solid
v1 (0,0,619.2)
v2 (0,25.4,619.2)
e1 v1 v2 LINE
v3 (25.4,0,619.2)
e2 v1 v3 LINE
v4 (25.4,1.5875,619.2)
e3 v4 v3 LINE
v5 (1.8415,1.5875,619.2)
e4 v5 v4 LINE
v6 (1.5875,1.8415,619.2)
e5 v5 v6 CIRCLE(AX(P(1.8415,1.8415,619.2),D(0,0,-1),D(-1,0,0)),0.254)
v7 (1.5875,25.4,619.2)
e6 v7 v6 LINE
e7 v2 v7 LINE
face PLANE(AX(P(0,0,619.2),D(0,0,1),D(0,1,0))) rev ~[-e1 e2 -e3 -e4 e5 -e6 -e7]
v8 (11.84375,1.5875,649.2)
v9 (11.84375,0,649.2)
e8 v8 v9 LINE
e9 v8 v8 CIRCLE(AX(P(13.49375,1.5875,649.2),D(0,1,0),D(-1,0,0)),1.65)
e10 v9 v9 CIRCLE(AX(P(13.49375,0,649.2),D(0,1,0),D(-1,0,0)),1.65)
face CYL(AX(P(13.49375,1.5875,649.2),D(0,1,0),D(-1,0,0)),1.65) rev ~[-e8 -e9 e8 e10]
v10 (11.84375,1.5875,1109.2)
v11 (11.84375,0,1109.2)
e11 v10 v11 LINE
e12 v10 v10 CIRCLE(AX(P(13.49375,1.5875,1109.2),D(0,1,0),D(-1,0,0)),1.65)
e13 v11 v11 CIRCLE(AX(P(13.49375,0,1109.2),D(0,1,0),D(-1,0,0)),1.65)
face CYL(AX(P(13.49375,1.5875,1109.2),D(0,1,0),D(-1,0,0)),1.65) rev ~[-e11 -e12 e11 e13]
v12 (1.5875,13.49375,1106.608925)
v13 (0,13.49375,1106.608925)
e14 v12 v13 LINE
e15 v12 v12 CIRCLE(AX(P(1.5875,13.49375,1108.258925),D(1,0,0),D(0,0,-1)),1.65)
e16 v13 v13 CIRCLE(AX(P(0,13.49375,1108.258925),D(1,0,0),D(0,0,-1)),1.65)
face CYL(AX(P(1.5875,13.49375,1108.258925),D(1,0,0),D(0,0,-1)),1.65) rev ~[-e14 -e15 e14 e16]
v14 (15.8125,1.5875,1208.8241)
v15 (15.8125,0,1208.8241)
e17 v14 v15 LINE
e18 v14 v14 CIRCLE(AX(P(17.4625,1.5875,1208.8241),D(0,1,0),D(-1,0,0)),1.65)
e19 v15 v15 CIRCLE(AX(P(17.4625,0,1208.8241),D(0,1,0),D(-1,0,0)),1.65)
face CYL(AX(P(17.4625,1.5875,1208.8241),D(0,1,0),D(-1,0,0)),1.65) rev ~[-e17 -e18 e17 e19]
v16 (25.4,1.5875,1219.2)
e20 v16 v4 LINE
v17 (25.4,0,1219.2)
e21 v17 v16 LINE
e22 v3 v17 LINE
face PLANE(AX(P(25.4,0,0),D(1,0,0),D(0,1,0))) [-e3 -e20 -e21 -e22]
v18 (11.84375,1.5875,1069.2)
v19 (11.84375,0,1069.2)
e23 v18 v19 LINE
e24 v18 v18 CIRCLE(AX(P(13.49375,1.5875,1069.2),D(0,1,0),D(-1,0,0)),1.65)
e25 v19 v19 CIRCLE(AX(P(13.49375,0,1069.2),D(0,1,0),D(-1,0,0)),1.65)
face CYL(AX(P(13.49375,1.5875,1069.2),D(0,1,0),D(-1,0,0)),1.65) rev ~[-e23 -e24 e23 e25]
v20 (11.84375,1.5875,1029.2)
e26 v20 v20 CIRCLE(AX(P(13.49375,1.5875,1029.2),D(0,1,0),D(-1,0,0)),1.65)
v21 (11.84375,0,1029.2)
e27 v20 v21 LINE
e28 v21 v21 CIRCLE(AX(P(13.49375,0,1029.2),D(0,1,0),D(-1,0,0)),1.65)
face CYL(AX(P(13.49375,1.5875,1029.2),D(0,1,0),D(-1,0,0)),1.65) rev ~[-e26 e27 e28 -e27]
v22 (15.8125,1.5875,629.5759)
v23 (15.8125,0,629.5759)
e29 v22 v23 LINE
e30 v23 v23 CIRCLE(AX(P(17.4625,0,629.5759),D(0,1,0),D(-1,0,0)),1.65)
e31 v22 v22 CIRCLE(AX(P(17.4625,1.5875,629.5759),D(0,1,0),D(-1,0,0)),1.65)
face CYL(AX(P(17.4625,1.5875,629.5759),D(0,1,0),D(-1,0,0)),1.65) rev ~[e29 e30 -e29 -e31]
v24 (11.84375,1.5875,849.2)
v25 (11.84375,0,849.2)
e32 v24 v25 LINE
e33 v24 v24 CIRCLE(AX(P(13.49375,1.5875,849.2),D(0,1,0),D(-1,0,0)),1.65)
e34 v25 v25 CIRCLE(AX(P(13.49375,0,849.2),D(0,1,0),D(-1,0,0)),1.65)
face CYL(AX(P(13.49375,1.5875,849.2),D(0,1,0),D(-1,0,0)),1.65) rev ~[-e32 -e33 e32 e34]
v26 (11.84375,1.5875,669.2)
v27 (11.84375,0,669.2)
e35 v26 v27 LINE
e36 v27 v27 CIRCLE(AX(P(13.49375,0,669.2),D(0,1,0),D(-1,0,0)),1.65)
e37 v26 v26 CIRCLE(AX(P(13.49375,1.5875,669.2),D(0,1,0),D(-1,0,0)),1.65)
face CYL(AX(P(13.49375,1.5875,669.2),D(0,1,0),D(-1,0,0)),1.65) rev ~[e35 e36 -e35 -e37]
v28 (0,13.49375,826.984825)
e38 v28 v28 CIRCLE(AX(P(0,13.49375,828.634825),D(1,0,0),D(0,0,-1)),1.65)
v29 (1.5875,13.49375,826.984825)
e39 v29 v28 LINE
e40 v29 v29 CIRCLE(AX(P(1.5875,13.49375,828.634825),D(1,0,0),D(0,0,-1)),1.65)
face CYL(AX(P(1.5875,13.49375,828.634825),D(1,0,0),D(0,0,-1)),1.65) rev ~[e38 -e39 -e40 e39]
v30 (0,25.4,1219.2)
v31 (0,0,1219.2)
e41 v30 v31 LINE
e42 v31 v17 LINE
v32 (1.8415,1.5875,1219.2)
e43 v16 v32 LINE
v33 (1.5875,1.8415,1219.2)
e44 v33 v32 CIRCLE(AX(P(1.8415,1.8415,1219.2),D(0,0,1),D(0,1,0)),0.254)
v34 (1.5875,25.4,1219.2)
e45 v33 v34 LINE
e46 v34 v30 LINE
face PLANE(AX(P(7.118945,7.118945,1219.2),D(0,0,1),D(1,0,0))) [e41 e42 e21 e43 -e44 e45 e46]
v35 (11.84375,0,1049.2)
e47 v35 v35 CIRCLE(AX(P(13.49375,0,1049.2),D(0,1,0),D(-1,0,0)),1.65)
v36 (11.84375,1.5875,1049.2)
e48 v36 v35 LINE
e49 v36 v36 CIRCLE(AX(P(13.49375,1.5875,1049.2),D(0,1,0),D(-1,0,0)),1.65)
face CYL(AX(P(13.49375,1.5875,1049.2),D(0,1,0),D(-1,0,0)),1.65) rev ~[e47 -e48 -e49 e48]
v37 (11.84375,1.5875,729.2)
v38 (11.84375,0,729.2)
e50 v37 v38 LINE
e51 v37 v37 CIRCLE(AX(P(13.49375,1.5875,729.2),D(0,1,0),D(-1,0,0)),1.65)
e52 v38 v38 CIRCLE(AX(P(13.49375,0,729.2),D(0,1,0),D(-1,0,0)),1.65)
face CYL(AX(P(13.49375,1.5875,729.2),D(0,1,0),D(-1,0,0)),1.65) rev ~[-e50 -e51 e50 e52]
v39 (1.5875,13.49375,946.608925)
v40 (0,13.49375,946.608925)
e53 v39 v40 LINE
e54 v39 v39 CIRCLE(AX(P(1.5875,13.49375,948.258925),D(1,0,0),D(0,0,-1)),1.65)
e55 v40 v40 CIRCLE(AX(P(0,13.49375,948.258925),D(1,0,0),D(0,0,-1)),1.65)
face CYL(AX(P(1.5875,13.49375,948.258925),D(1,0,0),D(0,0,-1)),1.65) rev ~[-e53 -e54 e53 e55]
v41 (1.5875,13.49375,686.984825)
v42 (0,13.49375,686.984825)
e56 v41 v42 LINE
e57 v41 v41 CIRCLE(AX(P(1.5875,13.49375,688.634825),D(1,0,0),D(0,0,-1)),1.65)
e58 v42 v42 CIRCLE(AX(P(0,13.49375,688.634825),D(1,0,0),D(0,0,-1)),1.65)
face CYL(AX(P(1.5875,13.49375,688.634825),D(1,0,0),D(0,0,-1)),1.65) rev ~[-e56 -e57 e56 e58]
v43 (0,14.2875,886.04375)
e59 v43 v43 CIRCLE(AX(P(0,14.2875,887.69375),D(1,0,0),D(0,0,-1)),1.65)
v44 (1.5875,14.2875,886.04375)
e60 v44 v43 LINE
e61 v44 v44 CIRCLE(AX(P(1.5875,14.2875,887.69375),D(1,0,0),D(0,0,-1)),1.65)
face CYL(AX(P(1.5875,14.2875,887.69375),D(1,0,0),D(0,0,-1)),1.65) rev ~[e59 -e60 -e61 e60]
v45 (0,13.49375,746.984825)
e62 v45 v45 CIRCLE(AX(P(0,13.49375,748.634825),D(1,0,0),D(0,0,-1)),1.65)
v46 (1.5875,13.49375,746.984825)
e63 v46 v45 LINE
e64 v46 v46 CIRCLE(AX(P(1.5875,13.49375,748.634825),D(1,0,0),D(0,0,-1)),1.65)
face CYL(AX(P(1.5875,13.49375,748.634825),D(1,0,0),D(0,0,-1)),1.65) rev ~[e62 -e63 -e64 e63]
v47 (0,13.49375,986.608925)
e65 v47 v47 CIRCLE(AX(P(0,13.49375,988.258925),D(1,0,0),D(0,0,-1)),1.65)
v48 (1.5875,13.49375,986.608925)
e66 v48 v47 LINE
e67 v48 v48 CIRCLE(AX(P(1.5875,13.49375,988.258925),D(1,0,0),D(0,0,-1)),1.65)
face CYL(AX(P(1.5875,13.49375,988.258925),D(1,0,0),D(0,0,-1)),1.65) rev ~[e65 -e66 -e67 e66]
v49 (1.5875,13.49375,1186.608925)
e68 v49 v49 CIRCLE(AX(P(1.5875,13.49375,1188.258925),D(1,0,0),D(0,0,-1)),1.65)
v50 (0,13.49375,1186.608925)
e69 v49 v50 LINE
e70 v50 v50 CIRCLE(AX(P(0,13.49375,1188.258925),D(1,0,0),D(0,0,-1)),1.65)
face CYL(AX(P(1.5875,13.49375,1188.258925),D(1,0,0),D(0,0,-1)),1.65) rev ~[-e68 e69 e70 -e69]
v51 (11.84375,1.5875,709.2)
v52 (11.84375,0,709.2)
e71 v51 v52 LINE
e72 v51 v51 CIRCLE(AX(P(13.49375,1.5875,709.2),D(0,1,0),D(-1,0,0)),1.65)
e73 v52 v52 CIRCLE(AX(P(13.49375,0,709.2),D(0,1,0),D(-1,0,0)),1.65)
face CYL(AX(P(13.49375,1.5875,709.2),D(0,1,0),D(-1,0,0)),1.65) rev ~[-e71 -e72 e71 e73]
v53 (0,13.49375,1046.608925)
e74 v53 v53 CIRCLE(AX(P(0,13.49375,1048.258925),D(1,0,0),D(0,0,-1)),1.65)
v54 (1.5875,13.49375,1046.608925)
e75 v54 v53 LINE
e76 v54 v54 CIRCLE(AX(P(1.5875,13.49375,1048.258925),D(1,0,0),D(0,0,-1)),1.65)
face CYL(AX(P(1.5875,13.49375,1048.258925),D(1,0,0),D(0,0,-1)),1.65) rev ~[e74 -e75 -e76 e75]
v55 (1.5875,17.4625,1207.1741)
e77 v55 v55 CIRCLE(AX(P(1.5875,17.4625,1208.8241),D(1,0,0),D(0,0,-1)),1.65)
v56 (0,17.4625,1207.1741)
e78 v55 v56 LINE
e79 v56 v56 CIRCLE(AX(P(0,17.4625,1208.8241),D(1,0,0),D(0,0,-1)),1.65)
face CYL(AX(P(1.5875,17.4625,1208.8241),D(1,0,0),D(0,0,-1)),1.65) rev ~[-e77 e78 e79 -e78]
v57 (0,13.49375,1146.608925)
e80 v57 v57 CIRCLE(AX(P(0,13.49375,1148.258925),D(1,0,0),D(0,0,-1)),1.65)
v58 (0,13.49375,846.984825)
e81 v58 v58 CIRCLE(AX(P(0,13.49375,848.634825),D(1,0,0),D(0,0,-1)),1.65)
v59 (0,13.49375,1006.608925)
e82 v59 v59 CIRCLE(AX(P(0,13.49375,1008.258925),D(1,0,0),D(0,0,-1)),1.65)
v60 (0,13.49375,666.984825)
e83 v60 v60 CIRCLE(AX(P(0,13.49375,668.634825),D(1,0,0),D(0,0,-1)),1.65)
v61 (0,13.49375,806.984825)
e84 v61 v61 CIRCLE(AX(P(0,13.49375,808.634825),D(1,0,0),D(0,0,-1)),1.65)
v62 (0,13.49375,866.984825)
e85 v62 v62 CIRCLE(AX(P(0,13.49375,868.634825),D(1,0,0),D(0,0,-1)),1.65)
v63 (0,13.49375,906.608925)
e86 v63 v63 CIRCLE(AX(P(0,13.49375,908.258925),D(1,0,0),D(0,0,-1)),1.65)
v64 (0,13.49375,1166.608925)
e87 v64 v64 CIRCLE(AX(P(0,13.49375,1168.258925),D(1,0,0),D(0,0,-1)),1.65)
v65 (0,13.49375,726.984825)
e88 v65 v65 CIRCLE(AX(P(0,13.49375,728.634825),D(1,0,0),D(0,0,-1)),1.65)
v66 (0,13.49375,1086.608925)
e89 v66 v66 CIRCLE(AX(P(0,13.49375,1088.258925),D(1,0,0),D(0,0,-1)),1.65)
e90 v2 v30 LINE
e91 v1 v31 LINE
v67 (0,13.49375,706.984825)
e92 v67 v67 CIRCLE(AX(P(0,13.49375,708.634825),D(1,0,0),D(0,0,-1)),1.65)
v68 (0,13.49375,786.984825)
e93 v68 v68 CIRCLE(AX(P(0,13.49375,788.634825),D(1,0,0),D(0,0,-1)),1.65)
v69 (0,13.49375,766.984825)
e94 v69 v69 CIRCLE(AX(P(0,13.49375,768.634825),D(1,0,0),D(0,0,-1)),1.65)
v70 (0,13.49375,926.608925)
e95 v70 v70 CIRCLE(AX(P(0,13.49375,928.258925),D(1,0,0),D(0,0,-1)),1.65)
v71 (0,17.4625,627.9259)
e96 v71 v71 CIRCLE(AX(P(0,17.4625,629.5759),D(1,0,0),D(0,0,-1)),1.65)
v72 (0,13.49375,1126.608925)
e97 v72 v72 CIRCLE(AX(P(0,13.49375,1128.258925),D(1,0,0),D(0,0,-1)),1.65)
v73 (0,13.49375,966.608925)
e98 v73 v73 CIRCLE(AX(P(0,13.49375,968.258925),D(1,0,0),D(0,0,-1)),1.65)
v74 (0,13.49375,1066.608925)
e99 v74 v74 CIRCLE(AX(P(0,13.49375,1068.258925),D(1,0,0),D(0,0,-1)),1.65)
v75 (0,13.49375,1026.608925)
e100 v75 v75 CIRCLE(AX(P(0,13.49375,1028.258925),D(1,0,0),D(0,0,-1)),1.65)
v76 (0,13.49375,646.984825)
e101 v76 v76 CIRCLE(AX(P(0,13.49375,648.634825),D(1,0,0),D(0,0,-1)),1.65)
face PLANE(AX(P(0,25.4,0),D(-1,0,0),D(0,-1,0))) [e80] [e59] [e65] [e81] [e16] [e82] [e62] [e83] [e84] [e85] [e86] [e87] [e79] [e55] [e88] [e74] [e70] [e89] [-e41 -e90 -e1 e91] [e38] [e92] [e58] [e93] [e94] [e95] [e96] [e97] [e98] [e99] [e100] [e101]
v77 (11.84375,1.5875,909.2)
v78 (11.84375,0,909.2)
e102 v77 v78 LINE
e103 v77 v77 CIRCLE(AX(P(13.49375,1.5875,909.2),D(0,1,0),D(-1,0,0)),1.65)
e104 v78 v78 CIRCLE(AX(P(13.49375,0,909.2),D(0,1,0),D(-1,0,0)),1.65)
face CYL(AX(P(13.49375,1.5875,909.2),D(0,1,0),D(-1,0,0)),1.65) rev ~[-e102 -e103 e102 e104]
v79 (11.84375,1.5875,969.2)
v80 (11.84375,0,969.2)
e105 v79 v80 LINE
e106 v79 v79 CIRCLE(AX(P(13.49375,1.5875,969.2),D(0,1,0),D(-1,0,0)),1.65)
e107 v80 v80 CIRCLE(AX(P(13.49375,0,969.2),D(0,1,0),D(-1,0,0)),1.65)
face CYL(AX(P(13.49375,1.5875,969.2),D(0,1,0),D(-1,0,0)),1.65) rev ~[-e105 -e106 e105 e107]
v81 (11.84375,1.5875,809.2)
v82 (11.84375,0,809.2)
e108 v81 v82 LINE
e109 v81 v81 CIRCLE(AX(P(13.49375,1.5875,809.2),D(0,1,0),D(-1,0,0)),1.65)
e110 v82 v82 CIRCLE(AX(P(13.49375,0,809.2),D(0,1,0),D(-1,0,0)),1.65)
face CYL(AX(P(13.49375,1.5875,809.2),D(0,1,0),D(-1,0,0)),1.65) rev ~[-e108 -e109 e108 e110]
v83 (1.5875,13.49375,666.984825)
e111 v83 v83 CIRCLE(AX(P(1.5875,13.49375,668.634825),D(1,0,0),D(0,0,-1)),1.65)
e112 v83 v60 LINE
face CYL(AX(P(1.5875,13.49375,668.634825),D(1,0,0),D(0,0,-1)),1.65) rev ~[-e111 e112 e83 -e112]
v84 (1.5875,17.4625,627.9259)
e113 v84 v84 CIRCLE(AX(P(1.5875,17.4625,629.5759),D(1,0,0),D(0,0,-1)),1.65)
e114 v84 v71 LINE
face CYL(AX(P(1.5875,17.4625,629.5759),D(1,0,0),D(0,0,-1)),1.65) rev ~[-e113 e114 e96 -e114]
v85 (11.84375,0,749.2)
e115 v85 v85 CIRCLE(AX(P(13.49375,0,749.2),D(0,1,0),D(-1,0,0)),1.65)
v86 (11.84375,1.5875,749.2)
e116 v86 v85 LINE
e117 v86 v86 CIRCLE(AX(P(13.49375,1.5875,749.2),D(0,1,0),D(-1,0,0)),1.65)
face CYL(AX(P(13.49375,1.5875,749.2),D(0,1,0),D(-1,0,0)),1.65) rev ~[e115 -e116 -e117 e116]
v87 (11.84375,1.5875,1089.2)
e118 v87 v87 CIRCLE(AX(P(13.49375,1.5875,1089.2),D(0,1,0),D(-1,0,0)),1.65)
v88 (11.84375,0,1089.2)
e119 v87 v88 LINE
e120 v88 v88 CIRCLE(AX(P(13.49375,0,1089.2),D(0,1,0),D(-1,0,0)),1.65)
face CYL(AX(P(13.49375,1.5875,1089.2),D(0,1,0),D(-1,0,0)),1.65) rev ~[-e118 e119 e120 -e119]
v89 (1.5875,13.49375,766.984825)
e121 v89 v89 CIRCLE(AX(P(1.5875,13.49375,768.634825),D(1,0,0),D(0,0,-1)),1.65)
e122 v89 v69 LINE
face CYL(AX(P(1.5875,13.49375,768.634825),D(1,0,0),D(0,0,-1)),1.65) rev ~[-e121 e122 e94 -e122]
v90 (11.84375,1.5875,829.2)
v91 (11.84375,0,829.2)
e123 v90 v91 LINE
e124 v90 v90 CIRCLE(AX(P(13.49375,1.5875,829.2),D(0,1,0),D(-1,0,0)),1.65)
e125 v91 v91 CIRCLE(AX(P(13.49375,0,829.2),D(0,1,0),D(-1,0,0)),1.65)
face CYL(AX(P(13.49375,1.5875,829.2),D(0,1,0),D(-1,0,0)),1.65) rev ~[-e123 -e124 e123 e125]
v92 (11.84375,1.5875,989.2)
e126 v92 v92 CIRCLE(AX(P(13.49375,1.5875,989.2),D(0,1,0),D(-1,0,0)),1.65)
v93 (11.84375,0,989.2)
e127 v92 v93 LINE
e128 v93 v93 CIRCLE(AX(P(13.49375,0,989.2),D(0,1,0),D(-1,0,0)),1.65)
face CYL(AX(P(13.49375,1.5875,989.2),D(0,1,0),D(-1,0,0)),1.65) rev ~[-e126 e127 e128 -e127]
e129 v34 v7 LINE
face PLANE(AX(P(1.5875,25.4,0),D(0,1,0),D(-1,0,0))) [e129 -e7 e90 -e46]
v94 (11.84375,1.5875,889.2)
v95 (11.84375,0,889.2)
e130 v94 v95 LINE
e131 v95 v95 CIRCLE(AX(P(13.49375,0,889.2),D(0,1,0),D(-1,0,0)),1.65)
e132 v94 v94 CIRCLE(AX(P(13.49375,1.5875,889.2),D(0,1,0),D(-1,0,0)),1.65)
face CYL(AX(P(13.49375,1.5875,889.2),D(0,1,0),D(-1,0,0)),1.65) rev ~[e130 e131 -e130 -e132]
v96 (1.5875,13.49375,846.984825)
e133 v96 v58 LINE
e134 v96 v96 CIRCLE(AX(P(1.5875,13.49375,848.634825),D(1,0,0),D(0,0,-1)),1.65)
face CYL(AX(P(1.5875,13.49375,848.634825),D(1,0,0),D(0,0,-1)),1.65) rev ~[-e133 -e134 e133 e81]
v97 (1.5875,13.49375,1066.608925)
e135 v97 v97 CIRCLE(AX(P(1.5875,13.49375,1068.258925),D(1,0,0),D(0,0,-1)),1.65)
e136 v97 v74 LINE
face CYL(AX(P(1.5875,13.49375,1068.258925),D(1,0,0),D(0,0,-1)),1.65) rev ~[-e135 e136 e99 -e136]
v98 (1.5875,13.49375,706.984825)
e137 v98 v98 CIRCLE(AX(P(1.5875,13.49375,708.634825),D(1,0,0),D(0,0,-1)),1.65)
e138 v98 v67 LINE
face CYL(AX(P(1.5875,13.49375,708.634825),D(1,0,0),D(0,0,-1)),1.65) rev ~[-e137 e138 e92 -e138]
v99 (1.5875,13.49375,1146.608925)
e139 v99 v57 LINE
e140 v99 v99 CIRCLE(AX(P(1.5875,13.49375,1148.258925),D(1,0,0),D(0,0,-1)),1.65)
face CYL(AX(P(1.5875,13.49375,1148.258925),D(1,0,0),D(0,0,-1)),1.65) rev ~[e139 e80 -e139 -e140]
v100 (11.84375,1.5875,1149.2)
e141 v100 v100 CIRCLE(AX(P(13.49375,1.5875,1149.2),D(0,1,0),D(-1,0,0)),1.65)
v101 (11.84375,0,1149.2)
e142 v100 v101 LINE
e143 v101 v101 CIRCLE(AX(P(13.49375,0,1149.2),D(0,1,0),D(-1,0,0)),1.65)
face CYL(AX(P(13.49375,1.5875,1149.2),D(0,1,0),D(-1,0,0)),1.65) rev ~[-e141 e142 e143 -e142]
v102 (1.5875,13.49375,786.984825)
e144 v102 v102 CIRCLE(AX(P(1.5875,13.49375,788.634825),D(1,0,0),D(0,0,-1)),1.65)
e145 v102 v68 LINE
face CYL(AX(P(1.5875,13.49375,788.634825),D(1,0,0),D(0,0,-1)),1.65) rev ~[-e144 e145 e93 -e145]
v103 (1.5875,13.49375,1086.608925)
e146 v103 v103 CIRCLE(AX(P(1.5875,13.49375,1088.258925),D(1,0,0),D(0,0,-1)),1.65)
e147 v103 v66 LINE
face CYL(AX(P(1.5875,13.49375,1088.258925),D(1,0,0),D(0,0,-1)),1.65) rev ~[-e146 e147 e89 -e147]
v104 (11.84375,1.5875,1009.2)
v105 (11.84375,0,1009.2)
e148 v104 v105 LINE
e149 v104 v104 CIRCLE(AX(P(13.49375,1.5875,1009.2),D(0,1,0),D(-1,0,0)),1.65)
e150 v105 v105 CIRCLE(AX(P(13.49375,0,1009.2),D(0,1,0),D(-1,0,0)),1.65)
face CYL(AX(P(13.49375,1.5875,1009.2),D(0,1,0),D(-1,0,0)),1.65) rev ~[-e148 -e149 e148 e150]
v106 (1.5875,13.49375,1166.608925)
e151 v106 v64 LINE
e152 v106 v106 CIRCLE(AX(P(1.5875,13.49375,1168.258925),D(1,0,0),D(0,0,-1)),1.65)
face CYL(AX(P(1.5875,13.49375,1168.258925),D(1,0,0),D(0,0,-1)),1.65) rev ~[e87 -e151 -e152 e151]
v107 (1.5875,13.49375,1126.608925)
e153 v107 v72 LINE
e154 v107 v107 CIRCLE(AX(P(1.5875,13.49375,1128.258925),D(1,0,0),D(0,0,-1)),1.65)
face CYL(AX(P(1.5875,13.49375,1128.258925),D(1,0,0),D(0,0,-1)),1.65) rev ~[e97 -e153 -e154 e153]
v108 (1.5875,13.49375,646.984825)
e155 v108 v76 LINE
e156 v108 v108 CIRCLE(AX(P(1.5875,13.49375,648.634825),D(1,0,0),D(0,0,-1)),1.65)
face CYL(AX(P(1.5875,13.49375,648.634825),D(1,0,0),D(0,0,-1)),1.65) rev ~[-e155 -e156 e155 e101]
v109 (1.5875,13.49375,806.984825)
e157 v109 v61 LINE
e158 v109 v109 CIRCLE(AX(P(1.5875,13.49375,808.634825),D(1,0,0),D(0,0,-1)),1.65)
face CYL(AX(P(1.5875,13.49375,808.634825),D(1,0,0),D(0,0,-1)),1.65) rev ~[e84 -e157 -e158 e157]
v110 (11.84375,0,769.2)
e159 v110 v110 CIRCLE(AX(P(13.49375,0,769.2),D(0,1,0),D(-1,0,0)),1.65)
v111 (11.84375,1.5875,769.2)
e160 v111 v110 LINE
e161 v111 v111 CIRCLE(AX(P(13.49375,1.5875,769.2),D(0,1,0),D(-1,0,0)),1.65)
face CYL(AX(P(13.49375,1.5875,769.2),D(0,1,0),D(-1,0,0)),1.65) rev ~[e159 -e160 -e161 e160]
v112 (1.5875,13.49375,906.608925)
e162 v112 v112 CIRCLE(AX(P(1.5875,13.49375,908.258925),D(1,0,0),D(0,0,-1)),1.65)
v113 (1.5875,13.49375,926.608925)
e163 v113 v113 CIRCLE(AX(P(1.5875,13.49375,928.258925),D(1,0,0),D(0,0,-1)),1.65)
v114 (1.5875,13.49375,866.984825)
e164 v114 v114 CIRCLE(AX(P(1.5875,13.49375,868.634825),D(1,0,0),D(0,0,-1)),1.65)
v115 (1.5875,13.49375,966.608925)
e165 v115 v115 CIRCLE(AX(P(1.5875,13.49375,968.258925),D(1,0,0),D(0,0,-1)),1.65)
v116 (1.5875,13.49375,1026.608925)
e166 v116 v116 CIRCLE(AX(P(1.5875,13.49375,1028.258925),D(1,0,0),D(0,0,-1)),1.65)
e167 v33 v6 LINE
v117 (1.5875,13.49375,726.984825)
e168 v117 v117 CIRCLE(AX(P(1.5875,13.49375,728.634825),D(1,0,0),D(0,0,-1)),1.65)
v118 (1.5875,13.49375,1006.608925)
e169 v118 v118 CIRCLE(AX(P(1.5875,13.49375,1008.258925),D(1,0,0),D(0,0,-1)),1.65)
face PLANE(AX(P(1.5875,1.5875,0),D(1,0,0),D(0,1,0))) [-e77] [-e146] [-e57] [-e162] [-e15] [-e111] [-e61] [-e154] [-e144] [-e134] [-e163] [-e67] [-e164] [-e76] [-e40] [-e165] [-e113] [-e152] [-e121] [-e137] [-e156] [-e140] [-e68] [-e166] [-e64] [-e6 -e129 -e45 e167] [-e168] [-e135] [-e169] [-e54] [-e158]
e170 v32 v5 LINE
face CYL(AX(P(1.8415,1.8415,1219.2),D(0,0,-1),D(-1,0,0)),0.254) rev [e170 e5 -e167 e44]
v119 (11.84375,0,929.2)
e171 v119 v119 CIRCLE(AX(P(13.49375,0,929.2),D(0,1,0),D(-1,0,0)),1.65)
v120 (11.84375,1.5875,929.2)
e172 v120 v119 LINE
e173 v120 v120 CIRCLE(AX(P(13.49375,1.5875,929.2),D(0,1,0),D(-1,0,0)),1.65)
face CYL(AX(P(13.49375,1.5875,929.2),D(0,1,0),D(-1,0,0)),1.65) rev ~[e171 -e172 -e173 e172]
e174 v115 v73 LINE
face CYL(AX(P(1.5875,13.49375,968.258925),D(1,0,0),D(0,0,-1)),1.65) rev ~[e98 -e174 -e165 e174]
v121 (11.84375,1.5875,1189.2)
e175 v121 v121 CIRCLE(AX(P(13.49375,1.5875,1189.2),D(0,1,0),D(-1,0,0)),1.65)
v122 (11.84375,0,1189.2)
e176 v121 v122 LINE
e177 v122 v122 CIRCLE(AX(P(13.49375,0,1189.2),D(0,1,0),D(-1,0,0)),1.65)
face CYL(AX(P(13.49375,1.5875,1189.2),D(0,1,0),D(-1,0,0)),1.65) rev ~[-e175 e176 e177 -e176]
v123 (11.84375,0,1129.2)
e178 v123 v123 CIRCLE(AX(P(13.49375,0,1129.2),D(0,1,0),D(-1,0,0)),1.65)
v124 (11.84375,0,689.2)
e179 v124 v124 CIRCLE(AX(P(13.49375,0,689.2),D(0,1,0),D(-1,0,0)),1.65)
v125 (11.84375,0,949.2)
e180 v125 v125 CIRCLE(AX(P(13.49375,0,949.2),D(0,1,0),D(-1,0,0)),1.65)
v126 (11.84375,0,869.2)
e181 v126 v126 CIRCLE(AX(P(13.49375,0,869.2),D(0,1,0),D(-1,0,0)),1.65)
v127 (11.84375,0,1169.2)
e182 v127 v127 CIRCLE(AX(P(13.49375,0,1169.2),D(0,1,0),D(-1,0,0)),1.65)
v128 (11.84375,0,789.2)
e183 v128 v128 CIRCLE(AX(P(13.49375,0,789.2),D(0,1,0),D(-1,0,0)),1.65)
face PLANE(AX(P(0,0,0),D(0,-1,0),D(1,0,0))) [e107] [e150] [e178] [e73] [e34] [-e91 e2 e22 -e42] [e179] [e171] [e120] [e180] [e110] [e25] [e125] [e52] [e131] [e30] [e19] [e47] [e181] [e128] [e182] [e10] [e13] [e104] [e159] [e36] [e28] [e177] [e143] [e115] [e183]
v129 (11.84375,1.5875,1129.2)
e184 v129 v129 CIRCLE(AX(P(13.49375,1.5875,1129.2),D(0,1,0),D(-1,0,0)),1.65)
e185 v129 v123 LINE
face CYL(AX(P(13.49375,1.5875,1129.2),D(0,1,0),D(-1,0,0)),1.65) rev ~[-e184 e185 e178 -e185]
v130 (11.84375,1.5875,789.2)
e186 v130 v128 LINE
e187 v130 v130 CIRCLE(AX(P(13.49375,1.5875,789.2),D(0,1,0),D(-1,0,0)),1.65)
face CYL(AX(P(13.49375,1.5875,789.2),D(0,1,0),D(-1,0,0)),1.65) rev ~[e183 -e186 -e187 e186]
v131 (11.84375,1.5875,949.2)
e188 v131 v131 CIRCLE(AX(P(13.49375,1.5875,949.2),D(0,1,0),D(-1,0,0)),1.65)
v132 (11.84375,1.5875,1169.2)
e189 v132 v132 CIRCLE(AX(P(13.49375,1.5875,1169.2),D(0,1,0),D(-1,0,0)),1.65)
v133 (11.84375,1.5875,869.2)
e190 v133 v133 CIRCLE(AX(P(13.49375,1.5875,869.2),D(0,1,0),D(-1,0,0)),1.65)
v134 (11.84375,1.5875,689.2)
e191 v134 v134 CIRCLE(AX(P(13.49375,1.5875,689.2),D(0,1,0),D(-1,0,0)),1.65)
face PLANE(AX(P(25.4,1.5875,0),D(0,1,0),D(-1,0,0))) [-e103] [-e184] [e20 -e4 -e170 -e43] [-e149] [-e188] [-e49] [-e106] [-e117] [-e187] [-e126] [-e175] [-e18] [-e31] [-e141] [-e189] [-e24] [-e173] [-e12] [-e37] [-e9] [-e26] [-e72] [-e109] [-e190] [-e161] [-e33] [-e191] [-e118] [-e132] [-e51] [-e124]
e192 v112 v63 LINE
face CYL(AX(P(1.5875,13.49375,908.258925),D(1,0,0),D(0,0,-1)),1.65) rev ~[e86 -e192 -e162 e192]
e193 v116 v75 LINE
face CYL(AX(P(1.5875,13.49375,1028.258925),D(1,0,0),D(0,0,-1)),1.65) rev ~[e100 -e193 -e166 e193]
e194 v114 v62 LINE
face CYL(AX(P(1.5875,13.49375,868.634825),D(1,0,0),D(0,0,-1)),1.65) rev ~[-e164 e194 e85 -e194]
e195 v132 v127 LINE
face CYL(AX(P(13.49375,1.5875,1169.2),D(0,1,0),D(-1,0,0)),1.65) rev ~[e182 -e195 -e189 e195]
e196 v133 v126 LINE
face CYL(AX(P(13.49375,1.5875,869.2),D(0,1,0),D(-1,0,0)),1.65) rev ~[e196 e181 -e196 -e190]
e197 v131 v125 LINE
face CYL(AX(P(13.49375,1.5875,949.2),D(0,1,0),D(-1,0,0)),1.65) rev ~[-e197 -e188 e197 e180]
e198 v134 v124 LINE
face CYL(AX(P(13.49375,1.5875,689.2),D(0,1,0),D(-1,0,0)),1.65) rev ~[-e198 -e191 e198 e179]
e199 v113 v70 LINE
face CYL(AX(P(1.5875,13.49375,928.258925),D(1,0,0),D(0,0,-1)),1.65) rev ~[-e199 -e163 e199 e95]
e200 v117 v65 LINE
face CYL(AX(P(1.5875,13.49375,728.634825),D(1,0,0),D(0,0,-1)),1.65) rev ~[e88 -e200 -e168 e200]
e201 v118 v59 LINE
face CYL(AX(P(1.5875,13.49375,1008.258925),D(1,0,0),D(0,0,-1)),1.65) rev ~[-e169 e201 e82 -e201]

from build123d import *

# Parameters (mm, degrees)
BOSS_EXTRUDE1_DEPTH = 1219.2
FILLET1_R           = 0.254
SKETCH4_W           = 1838.4
SKETCH4_H           = 74.945320812
CUT_EXTRUDE1_DEPTH  = 60
SKETCH5_R           = 1.65
CUT_EXTRUDE2_DEPTH  = 10
SKETCH9_R           = 1.65
CUT_EXTRUDE6_DEPTH  = 60


with BuildPart() as part:
    # Sketch3 → Boss-Extrude1 (new, symmetric)
    with BuildSketch(Plane.XY):
        Polygon((1.5875, 25.4), (0, 25.4), (0, 0), (25.4, 0), (25.4, 1.5875), (1.5875, 1.5875), align=None)
    extrude(amount=BOSS_EXTRUDE1_DEPTH, both=True)

    # Fillet1
    fillet1_edges = [part.edges().sort_by_distance(p)[0] for p in [
        (1.5875, 1.5875, 0),
    ]]
    fillet(fillet1_edges, radius=FILLET1_R)

    # Sketch4 → Cut-Extrude1 (cut)
    with BuildSketch(Plane.ZY):
        with Locations((-300, 37.472660406)):
            Rectangle(SKETCH4_W, SKETCH4_H)
    extrude(amount=-CUT_EXTRUDE1_DEPTH, mode=Mode.SUBTRACT)

    # Sketch5 → Cut-Extrude2 (cut)
    with BuildSketch(Plane(origin=(0, 1.5875, 0), x_dir=(1, 0, 0), z_dir=(0, 1, 0))):
        with Locations(Location((17.4625, -629.5759, 0), (0, 0, 180))):
            Circle(SKETCH5_R)
        with Locations(Location((17.4625, -1208.8241, 0), (0, 0, 180))):
            Circle(SKETCH5_R)
        with Locations(Location((13.49375, -1189.2, 0), (0, 0, 180))):
            Circle(SKETCH5_R)
        with Locations(Location((13.49375, -1169.2, 0), (0, 0, 180))):
            Circle(SKETCH5_R)
        with Locations(Location((13.49375, -1149.2, 0), (0, 0, 180))):
            Circle(SKETCH5_R)
        with Locations(Location((13.49375, -1129.2, 0), (0, 0, 180))):
            Circle(SKETCH5_R)
        with Locations(Location((13.49375, -1109.2, 0), (0, 0, 180))):
            Circle(SKETCH5_R)
        with Locations(Location((13.49375, -1089.2, 0), (0, 0, 180))):
            Circle(SKETCH5_R)
        with Locations(Location((13.49375, -1069.2, 0), (0, 0, 180))):
            Circle(SKETCH5_R)
        with Locations(Location((13.49375, -1049.2, 0), (0, 0, 180))):
            Circle(SKETCH5_R)
        with Locations(Location((13.49375, -1029.2, 0), (0, 0, 180))):
            Circle(SKETCH5_R)
        with Locations(Location((13.49375, -1009.2, 0), (0, 0, 180))):
            Circle(SKETCH5_R)
        with Locations(Location((13.49375, -989.2, 0), (0, 0, 180))):
            Circle(SKETCH5_R)
        with Locations(Location((13.49375, -969.2, 0), (0, 0, 180))):
            Circle(SKETCH5_R)
        with Locations(Location((13.49375, -949.2, 0), (0, 0, 180))):
            Circle(SKETCH5_R)
        with Locations(Location((13.49375, -929.2, 0), (0, 0, 180))):
            Circle(SKETCH5_R)
        with Locations(Location((13.49375, -909.2, 0), (0, 0, 180))):
            Circle(SKETCH5_R)
        with Locations(Location((13.49375, -889.2, 0), (0, 0, 180))):
            Circle(SKETCH5_R)
        with Locations(Location((13.49375, -869.2, 0), (0, 0, 180))):
            Circle(SKETCH5_R)
        with Locations(Location((13.49375, -849.2, 0), (0, 0, 180))):
            Circle(SKETCH5_R)
        with Locations(Location((13.49375, -829.2, 0), (0, 0, 180))):
            Circle(SKETCH5_R)
        with Locations(Location((13.49375, -809.2, 0), (0, 0, 180))):
            Circle(SKETCH5_R)
        with Locations(Location((13.49375, -789.2, 0), (0, 0, 180))):
            Circle(SKETCH5_R)
        with Locations(Location((13.49375, -769.2, 0), (0, 0, 180))):
            Circle(SKETCH5_R)
        with Locations(Location((13.49375, -749.2, 0), (0, 0, 180))):
            Circle(SKETCH5_R)
        with Locations(Location((13.49375, -729.2, 0), (0, 0, 180))):
            Circle(SKETCH5_R)
        with Locations(Location((13.49375, -709.2, 0), (0, 0, 180))):
            Circle(SKETCH5_R)
        with Locations(Location((13.49375, -689.2, 0), (0, 0, 180))):
            Circle(SKETCH5_R)
        with Locations(Location((13.49375, -669.2, 0), (0, 0, 180))):
            Circle(SKETCH5_R)
        with Locations(Location((13.49375, -649.2, 0), (0, 0, 180))):
            Circle(SKETCH5_R)
    extrude(amount=-CUT_EXTRUDE2_DEPTH, mode=Mode.SUBTRACT)

    # Sketch9 → Cut-Extrude6 (cut)
    with BuildSketch(Plane(origin=(1.5875, 0, 0), x_dir=(0, 0, -1), z_dir=(1, 0, 0))):
        with Locations((-629.5759, 17.4625)):
            Circle(SKETCH9_R)
        with Locations((-648.634825, 13.49375)):
            Circle(SKETCH9_R)
        with Locations((-887.69375, 14.2875)):
            Circle(SKETCH9_R)
        with Locations((-1208.8241, 17.4625)):
            Circle(SKETCH9_R)
        with Locations((-668.634825, 13.49375)):
            Circle(SKETCH9_R)
        with Locations((-688.634825, 13.49375)):
            Circle(SKETCH9_R)
        with Locations((-708.634825, 13.49375)):
            Circle(SKETCH9_R)
        with Locations((-728.634825, 13.49375)):
            Circle(SKETCH9_R)
        with Locations((-748.634825, 13.49375)):
            Circle(SKETCH9_R)
        with Locations((-768.634825, 13.49375)):
            Circle(SKETCH9_R)
        with Locations((-788.634825, 13.49375)):
            Circle(SKETCH9_R)
        with Locations((-808.634825, 13.49375)):
            Circle(SKETCH9_R)
        with Locations((-828.634825, 13.49375)):
            Circle(SKETCH9_R)
        with Locations((-848.634825, 13.49375)):
            Circle(SKETCH9_R)
        with Locations((-868.634825, 13.49375)):
            Circle(SKETCH9_R)
        with Locations((-908.258925, 13.49375)):
            Circle(SKETCH9_R)
        with Locations((-928.258925, 13.49375)):
            Circle(SKETCH9_R)
        with Locations((-948.258925, 13.49375)):
            Circle(SKETCH9_R)
        with Locations((-968.258925, 13.49375)):
            Circle(SKETCH9_R)
        with Locations((-988.258925, 13.49375)):
            Circle(SKETCH9_R)
        with Locations((-1008.258925, 13.49375)):
            Circle(SKETCH9_R)
        with Locations((-1028.258925, 13.49375)):
            Circle(SKETCH9_R)
        with Locations((-1048.258925, 13.49375)):
            Circle(SKETCH9_R)
        with Locations((-1068.258925, 13.49375)):
            Circle(SKETCH9_R)
        with Locations((-1088.258925, 13.49375)):
            Circle(SKETCH9_R)
        with Locations((-1108.258925, 13.49375)):
            Circle(SKETCH9_R)
        with Locations((-1128.258925, 13.49375)):
            Circle(SKETCH9_R)
        with Locations((-1148.258925, 13.49375)):
            Circle(SKETCH9_R)
        with Locations((-1168.258925, 13.49375)):
            Circle(SKETCH9_R)
        with Locations((-1188.258925, 13.49375)):
            Circle(SKETCH9_R)
    extrude(amount=-CUT_EXTRUDE6_DEPTH, mode=Mode.SUBTRACT)


solid = part.part
